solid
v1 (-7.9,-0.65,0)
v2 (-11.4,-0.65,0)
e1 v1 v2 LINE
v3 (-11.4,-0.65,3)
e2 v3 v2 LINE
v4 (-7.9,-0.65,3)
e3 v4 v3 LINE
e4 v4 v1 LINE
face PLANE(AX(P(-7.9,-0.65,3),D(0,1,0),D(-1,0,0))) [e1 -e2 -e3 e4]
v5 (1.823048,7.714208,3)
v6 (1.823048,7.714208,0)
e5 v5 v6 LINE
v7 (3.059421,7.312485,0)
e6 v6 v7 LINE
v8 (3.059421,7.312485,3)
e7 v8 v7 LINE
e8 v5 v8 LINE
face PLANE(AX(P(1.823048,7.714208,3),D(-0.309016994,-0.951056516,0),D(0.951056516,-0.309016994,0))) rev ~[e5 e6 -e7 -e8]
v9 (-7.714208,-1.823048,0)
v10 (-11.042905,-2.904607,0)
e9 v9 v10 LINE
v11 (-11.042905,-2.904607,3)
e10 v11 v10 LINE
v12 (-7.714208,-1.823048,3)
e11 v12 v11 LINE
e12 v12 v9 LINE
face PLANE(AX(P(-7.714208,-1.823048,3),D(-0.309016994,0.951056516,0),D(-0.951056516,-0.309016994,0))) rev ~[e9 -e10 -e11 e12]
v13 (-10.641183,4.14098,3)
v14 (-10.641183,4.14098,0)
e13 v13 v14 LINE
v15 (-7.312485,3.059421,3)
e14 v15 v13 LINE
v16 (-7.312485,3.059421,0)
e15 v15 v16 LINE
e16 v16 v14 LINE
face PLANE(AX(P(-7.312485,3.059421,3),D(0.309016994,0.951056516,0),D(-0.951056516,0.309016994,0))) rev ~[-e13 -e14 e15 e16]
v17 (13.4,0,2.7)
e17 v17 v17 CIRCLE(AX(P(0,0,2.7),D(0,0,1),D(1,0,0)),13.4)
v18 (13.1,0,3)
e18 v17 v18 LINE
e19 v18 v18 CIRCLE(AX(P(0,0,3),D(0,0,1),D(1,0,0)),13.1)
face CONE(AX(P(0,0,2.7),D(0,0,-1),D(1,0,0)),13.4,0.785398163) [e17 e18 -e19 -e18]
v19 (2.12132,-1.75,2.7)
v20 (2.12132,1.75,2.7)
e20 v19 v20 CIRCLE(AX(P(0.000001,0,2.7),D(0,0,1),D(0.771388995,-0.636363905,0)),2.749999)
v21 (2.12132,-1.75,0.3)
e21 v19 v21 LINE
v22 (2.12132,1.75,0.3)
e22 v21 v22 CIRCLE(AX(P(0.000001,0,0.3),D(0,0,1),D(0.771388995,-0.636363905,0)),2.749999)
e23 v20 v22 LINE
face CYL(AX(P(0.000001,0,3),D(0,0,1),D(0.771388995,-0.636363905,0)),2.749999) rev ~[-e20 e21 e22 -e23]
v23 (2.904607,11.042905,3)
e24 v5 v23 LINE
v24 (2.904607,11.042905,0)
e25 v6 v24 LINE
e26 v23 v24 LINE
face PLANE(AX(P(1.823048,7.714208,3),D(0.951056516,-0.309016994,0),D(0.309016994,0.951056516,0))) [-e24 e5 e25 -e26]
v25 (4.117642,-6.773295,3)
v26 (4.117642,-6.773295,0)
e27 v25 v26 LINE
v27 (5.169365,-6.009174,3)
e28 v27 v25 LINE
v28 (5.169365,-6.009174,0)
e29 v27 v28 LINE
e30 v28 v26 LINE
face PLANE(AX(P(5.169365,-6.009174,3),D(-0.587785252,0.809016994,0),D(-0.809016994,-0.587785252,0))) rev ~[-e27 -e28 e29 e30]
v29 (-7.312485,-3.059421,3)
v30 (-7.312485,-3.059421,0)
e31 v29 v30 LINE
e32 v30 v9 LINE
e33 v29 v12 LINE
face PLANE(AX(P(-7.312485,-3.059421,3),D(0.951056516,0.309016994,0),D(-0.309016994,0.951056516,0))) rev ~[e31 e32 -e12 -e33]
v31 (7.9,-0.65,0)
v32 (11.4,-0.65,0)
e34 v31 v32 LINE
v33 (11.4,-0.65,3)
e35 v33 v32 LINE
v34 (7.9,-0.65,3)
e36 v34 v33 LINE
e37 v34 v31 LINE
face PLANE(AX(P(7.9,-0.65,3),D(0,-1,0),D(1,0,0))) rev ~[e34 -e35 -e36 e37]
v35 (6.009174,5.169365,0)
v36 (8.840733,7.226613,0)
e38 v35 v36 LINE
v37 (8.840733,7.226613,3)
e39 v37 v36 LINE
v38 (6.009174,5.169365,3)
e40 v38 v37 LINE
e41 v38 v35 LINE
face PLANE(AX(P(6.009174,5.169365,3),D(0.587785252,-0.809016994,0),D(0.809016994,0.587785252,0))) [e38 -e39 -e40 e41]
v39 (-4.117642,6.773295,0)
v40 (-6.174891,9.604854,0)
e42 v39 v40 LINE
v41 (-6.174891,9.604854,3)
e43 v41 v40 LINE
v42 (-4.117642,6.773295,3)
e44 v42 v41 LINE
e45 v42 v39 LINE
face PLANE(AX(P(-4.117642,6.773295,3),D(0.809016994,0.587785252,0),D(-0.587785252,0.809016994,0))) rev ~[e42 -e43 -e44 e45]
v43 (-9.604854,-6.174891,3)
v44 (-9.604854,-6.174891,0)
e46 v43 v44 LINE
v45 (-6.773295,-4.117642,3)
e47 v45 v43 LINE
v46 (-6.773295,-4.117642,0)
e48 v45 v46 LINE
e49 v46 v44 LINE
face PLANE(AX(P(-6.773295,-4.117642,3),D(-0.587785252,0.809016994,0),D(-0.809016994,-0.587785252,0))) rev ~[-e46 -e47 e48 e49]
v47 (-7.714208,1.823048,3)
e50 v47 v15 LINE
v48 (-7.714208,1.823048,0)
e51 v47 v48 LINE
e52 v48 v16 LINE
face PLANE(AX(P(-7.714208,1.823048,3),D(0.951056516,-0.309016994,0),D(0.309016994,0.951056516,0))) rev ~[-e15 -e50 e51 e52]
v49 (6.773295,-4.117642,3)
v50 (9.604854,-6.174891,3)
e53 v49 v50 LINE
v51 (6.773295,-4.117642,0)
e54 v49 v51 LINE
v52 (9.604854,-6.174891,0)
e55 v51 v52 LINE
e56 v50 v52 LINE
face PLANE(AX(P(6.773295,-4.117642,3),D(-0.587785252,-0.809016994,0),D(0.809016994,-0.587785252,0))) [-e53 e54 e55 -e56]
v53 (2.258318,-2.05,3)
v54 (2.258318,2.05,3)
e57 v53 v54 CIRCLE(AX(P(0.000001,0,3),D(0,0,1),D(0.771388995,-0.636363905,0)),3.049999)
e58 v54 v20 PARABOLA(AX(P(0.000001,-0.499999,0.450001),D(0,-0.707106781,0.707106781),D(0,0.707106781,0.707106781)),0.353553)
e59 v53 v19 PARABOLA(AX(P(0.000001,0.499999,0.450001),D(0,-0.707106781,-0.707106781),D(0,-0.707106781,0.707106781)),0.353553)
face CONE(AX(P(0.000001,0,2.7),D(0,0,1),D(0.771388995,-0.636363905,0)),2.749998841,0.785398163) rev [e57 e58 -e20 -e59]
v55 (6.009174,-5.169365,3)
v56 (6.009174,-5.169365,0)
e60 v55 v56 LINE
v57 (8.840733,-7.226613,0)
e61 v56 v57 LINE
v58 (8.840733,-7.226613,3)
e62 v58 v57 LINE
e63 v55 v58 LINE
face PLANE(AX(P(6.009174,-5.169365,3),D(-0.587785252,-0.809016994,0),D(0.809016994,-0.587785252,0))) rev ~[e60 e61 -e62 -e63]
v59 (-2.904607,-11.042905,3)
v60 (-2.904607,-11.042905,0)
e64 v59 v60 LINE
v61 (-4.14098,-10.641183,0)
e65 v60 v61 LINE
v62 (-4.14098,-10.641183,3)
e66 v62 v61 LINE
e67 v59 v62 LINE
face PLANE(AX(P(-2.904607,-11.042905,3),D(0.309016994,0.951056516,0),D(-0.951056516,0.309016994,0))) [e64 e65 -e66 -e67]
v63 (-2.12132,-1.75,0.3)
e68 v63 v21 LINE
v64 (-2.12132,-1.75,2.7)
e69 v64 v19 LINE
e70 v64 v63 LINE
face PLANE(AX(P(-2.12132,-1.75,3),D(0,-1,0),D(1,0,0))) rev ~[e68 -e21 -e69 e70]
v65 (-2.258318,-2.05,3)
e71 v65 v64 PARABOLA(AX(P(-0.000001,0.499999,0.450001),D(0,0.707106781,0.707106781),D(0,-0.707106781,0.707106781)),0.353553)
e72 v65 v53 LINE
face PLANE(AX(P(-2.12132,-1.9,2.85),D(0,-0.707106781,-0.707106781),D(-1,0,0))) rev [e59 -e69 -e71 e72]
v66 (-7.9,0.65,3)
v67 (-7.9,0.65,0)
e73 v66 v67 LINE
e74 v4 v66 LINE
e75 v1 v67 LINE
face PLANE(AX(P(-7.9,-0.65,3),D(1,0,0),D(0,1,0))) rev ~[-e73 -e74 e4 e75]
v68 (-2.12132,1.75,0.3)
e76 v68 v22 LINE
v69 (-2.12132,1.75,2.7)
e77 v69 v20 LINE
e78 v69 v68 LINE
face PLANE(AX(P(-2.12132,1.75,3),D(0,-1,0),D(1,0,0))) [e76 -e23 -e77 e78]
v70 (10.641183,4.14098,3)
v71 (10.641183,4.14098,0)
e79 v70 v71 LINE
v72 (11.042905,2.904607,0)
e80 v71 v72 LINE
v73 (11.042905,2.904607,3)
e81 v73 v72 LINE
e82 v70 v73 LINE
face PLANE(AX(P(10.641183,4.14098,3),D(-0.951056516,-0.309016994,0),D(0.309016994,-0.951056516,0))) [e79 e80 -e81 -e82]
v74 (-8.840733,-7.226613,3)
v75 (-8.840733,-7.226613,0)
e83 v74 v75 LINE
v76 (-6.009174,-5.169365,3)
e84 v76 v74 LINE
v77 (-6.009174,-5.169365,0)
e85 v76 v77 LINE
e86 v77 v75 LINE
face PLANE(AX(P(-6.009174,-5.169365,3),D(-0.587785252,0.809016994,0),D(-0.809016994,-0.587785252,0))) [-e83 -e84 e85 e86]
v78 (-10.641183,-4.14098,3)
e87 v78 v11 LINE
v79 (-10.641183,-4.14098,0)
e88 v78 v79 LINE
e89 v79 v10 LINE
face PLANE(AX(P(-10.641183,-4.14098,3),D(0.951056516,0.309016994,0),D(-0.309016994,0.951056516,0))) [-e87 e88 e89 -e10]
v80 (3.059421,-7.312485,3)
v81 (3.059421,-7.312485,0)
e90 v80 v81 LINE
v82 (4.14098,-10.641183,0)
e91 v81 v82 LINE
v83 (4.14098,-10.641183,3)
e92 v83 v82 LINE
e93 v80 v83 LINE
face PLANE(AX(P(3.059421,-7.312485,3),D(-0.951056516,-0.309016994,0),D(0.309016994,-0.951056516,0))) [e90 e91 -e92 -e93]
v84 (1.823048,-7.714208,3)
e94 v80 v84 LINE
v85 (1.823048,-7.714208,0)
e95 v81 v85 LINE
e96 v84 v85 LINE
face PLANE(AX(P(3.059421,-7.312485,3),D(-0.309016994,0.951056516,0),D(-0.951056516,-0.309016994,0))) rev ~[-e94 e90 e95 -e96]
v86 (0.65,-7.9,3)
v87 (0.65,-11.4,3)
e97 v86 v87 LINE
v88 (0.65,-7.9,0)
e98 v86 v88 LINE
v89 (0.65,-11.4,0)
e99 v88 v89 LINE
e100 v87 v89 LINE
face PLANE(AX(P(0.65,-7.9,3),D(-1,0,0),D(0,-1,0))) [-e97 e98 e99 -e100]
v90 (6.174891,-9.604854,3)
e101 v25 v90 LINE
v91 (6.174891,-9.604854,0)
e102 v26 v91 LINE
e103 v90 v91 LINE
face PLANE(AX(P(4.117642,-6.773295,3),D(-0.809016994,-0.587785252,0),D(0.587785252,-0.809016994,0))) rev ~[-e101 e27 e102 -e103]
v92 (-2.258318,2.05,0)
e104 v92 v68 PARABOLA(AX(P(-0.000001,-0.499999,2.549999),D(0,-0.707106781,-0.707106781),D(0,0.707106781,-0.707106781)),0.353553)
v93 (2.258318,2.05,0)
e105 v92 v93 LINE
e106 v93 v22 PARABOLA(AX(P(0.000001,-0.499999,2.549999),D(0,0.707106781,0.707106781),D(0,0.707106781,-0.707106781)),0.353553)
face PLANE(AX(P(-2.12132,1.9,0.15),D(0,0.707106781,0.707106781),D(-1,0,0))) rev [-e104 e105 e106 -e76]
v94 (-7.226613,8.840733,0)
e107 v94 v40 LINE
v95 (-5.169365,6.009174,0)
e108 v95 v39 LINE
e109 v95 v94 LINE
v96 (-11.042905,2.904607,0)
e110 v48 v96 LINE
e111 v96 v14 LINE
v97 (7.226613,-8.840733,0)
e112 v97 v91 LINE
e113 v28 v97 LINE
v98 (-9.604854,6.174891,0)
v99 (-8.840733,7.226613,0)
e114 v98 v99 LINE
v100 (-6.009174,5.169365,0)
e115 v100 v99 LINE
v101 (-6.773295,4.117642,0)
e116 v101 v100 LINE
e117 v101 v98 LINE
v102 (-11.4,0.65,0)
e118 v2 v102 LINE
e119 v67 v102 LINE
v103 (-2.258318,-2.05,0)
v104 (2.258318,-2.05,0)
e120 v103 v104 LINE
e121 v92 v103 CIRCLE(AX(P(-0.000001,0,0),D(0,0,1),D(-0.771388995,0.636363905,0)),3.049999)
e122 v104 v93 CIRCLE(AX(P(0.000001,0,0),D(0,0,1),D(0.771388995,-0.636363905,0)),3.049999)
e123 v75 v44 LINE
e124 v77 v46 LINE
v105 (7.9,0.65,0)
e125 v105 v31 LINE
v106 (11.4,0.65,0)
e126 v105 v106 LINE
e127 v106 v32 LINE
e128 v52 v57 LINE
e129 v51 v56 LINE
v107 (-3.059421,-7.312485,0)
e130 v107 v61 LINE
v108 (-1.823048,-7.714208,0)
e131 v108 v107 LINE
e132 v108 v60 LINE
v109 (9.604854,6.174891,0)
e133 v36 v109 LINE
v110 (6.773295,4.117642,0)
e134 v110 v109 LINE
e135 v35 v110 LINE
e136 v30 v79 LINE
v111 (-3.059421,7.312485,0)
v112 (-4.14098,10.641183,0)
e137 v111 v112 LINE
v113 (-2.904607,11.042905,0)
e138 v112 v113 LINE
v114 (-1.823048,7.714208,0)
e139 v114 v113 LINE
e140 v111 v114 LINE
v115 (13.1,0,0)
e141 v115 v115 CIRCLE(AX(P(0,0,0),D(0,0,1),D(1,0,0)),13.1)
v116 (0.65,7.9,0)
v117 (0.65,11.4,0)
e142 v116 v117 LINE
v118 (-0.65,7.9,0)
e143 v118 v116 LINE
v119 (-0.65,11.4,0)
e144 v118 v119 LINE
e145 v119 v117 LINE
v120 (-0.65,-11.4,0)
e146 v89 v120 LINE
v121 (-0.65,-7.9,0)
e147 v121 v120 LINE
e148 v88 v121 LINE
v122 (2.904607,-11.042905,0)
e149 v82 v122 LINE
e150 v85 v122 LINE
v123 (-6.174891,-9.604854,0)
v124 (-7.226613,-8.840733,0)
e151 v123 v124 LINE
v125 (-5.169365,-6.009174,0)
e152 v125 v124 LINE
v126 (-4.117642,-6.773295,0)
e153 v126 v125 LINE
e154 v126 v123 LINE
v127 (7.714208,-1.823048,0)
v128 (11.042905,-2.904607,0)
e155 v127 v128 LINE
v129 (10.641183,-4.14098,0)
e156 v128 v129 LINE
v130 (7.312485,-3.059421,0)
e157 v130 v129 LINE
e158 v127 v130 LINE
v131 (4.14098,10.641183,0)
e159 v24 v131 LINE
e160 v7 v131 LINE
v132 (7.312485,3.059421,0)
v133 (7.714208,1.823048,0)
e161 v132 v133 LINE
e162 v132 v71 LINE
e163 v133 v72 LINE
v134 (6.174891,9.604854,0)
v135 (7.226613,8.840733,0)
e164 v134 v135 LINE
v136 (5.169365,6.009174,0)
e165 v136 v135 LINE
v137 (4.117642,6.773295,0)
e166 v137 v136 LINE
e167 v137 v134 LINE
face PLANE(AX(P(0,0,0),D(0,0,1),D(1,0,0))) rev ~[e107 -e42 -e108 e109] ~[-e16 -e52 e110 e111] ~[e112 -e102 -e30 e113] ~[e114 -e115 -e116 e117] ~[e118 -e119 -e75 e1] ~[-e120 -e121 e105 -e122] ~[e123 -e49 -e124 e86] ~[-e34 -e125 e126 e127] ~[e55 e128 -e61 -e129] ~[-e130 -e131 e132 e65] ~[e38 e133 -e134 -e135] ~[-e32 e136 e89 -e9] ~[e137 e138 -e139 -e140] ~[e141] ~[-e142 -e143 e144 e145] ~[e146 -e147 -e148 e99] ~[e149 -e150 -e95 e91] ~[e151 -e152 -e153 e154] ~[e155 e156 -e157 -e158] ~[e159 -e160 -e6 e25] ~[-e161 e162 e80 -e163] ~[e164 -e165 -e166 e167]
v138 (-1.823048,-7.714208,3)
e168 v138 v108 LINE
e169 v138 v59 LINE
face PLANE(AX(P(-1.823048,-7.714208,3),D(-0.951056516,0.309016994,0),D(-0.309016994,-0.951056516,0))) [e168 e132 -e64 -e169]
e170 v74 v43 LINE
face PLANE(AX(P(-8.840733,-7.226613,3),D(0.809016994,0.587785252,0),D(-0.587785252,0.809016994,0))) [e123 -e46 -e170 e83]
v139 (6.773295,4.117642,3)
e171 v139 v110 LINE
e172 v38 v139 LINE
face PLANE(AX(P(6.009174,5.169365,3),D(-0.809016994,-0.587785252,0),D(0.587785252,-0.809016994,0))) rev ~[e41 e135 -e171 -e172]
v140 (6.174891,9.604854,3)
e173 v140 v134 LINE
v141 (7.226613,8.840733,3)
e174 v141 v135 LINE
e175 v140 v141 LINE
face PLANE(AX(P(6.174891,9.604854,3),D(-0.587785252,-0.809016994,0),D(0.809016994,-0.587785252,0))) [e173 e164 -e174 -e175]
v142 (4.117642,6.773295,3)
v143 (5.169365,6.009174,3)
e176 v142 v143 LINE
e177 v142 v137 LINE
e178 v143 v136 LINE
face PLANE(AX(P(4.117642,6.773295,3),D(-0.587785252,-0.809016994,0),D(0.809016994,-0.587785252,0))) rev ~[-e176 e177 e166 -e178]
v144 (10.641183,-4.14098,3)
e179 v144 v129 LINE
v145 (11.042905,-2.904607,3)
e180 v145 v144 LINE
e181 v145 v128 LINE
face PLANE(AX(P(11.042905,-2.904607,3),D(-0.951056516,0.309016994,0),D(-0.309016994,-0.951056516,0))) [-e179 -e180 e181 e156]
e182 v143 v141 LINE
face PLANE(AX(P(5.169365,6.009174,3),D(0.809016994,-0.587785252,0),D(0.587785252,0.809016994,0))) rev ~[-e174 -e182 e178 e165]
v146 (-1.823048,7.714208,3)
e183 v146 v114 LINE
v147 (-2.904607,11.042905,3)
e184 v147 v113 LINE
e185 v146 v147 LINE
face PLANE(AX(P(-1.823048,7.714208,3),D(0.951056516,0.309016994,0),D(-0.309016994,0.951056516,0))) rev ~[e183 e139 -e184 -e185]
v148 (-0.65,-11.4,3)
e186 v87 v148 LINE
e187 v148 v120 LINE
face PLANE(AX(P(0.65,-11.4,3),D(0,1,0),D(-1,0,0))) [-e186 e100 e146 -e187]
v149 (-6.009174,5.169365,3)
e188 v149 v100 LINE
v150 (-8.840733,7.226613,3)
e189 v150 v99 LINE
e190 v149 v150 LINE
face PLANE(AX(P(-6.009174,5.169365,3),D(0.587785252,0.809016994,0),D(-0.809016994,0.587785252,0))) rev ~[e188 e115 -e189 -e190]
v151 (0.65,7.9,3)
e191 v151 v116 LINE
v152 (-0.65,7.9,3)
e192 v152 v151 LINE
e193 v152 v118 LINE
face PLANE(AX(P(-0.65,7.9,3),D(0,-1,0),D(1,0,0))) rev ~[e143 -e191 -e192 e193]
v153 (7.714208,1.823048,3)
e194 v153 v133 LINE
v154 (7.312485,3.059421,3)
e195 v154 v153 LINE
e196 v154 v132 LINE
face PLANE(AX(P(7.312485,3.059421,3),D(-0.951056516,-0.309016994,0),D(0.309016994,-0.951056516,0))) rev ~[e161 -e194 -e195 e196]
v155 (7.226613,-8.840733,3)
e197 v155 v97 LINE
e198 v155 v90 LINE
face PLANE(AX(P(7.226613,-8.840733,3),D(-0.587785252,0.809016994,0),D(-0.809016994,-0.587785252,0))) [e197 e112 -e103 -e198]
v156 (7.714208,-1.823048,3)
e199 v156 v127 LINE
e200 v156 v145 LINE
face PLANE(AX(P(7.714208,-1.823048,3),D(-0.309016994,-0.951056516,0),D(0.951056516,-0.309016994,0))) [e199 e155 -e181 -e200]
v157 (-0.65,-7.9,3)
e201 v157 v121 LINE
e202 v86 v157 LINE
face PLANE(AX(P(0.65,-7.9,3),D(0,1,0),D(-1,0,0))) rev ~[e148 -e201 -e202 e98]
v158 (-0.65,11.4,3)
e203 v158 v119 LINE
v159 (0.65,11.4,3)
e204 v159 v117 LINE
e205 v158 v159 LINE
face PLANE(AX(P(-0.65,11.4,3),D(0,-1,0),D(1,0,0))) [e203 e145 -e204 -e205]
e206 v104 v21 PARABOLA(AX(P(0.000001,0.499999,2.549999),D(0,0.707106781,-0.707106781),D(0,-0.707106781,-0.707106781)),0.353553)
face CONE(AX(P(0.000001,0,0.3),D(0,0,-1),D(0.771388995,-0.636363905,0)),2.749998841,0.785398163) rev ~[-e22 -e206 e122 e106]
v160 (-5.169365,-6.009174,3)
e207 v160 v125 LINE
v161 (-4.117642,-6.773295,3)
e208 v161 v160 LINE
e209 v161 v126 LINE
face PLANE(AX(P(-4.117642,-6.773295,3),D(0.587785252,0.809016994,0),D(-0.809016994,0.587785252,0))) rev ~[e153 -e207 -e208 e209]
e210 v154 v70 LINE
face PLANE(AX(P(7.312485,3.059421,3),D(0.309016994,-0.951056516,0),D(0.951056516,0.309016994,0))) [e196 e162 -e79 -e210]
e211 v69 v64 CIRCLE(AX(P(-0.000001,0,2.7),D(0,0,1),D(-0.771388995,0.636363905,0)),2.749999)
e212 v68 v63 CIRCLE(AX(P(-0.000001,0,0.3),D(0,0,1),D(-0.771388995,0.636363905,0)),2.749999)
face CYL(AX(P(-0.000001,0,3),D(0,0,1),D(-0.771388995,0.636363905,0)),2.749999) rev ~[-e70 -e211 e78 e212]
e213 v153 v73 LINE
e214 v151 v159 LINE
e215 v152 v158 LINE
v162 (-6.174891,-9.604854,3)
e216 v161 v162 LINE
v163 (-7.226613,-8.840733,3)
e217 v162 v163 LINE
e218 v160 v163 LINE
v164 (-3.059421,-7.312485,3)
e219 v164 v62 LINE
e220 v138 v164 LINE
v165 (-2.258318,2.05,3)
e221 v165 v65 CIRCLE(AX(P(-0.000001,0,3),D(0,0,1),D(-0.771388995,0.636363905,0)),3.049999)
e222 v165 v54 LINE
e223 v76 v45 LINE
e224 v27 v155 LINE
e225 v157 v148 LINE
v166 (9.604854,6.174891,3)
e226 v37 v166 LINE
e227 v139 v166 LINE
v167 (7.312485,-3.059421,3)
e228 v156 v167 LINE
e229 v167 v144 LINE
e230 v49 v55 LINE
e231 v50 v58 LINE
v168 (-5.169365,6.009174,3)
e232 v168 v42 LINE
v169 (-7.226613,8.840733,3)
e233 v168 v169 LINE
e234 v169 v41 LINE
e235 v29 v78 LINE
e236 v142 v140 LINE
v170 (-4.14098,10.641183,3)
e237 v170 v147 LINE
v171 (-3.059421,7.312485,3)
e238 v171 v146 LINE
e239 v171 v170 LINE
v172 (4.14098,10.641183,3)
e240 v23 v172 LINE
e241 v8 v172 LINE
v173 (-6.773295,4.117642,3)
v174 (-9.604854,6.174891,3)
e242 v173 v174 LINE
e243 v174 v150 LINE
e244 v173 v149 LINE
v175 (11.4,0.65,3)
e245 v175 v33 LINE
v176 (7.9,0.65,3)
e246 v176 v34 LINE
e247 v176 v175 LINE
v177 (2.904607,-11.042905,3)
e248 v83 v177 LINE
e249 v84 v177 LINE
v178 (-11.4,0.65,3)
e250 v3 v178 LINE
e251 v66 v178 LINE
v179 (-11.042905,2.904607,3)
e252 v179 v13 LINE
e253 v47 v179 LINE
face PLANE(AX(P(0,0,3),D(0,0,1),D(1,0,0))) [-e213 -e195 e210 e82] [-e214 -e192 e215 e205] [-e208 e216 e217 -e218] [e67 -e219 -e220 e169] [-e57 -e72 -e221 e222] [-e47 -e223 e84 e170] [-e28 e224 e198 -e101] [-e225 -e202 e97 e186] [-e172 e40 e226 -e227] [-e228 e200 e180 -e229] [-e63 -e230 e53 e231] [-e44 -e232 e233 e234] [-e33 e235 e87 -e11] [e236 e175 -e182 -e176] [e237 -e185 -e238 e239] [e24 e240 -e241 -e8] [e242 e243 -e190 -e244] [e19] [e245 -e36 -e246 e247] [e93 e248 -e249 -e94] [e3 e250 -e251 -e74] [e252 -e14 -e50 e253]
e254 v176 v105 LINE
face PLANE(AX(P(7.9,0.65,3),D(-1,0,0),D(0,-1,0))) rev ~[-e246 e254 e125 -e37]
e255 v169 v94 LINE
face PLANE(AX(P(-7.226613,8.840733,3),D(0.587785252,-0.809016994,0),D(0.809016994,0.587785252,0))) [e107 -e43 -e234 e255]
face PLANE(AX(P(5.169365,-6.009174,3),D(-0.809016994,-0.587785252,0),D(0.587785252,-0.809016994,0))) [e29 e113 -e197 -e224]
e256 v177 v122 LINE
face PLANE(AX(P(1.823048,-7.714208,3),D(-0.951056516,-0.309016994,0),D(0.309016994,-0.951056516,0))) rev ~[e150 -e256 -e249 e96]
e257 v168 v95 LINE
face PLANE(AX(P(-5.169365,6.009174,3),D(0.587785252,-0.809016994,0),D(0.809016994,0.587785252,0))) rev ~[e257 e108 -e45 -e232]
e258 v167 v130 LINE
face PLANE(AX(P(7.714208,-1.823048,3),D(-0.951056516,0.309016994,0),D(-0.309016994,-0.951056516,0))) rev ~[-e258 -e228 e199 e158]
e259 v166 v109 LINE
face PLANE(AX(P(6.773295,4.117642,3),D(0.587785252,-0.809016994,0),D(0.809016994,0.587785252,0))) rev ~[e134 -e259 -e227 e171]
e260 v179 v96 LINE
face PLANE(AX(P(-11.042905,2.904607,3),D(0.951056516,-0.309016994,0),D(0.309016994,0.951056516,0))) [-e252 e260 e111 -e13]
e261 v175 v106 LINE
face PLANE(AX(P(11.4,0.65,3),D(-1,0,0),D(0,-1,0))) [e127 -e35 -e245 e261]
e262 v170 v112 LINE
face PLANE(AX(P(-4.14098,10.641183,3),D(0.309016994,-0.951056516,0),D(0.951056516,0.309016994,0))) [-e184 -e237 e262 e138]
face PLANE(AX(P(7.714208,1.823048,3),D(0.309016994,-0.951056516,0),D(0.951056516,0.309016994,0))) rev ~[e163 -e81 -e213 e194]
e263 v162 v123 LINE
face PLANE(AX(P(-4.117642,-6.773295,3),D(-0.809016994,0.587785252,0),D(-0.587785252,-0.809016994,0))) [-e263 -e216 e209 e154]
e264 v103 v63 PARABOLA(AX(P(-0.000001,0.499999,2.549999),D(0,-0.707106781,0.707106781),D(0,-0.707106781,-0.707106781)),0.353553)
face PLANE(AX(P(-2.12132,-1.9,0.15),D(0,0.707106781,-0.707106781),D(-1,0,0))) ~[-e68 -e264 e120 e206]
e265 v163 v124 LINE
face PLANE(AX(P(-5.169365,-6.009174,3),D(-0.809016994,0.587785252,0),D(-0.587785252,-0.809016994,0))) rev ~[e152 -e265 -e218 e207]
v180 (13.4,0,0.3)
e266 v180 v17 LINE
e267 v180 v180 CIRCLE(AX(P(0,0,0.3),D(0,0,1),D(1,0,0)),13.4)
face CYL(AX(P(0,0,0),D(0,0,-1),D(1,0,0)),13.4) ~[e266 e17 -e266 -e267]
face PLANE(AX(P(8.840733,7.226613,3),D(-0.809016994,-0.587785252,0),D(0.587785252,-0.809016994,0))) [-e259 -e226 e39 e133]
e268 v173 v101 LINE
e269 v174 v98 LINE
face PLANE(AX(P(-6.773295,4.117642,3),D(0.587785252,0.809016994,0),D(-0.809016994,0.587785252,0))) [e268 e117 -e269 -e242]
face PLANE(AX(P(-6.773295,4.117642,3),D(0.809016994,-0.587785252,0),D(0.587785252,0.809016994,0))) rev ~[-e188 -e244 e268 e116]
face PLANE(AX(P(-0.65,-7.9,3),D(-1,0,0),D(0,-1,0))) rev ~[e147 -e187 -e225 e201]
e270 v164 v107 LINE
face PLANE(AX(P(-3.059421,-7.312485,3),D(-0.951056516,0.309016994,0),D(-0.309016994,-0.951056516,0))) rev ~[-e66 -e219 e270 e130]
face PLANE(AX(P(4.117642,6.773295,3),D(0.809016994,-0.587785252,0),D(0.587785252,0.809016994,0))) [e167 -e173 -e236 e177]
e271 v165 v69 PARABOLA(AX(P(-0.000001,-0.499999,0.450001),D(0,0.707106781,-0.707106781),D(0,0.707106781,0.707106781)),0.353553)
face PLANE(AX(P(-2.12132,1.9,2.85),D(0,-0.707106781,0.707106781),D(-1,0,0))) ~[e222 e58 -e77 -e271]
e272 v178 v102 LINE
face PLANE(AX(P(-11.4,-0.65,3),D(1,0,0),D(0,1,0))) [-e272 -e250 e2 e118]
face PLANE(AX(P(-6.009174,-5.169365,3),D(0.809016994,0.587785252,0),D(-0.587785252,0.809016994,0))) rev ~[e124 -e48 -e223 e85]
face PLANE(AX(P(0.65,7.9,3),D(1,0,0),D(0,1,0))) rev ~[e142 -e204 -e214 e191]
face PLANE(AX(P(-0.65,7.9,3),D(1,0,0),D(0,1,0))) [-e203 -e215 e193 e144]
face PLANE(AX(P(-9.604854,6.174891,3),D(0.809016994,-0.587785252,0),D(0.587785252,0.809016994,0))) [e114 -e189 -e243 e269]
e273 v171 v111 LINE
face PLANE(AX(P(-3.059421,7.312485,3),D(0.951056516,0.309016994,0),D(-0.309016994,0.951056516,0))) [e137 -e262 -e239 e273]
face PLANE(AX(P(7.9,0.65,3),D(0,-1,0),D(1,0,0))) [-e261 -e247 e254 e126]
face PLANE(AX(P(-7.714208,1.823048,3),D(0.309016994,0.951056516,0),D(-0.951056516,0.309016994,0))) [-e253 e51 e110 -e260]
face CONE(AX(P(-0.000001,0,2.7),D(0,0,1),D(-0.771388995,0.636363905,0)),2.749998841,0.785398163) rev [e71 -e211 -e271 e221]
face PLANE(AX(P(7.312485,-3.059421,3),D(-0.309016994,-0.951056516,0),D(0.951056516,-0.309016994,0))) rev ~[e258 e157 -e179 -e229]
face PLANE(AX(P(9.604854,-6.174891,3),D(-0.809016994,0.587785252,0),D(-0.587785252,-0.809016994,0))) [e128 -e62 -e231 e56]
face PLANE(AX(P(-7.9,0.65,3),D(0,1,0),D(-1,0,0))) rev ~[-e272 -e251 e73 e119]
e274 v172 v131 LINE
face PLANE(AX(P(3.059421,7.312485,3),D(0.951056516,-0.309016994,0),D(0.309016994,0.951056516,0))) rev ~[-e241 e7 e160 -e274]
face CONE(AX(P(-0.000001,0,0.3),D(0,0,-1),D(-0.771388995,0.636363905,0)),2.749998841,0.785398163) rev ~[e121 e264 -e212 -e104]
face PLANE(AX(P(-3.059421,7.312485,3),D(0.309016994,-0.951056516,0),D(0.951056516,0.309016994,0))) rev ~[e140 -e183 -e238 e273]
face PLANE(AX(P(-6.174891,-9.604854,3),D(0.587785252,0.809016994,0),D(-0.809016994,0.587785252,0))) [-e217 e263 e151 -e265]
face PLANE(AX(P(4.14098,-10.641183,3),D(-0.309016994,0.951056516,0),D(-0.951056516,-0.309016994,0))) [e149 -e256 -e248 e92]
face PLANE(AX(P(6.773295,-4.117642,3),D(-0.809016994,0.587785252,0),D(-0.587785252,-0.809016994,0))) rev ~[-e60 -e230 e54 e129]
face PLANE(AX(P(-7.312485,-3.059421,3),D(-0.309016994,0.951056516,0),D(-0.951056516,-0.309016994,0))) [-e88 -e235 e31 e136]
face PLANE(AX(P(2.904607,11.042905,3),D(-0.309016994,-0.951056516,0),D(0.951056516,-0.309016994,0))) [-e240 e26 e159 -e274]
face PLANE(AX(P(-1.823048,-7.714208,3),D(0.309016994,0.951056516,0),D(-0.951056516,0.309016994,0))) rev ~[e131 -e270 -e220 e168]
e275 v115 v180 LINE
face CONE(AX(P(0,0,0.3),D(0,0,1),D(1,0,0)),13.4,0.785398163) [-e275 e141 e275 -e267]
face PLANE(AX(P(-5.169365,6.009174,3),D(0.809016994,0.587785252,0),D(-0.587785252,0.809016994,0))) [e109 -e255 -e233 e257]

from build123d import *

# Parameters (mm, degrees)
SKETCH002_R        = 13.4
PAD_DEPTH          = 3
POCKET_DEPTH       = 3.001
SKETCH003_W        = 1.3
SKETCH003_H        = 3.5
POCKET001_DEPTH    = 79.039937
POLARPATTERN_COUNT = 20
CHAMFER_SIZE       = 0.3
CHAMFER001_SIZE    = 0.3


with BuildPart() as part:
    # Sketch002 → Pad (new body)
    with BuildSketch(Plane.XY):
        Circle(SKETCH002_R)
    extrude(amount=PAD_DEPTH)

    # Sketch → Pocket (cut, through all)
    with BuildSketch(Plane.XY.offset(3)):
        with BuildLine():
            Line((-2.12132, 1.75), (2.12132, 1.75))
            ThreePointArc((2.12132, -1.75), (2.75, 0), (2.12132, 1.75))
            Line((-2.12132, -1.75), (2.12132, -1.75))
            ThreePointArc((-2.12132, 1.75), (-2.75, 0), (-2.12132, -1.75))
        make_face()
    extrude(amount=-POCKET_DEPTH, mode=Mode.SUBTRACT)

    # Sketch003 → Pocket001 (cut, through all)
    with BuildSketch(Plane.XY.offset(3)):
        with Locations((0, 9.65)):
            Rectangle(SKETCH003_W, SKETCH003_H)
    pocket001 = extrude(amount=-POCKET001_DEPTH, mode=Mode.SUBTRACT)

    # PolarPattern: Pocket001 ×20 about axis
    polarpattern_axis = Axis((0, 0, 3), (0, 0, 1))
    for i in range(1, POLARPATTERN_COUNT):
        add(pocket001.rotate(polarpattern_axis, i * 360 / POLARPATTERN_COUNT), mode=Mode.SUBTRACT)

    # Chamfer
    chamfer_edges = [part.edges().sort_by_distance(p)[0] for p in [
        (0, 1.75, 0),
        (2.75, 0, 0),
        (0, -1.75, 0),
        (-2.75, 0, 0),
        (2.75, 0, 3),
        (0, 1.75, 3),
        (-2.75, 0, 3),
        (0, -1.75, 3),
    ]]
    chamfer(chamfer_edges, length=CHAMFER_SIZE)

    # Chamfer001
    chamfer001_edges = [part.edges().sort_by_distance(p)[0] for p in [
        (-13.4, 0, 0),
        (-13.4, 0, 3),
    ]]
    chamfer(chamfer001_edges, length=CHAMFER001_SIZE)


solid = part.part
